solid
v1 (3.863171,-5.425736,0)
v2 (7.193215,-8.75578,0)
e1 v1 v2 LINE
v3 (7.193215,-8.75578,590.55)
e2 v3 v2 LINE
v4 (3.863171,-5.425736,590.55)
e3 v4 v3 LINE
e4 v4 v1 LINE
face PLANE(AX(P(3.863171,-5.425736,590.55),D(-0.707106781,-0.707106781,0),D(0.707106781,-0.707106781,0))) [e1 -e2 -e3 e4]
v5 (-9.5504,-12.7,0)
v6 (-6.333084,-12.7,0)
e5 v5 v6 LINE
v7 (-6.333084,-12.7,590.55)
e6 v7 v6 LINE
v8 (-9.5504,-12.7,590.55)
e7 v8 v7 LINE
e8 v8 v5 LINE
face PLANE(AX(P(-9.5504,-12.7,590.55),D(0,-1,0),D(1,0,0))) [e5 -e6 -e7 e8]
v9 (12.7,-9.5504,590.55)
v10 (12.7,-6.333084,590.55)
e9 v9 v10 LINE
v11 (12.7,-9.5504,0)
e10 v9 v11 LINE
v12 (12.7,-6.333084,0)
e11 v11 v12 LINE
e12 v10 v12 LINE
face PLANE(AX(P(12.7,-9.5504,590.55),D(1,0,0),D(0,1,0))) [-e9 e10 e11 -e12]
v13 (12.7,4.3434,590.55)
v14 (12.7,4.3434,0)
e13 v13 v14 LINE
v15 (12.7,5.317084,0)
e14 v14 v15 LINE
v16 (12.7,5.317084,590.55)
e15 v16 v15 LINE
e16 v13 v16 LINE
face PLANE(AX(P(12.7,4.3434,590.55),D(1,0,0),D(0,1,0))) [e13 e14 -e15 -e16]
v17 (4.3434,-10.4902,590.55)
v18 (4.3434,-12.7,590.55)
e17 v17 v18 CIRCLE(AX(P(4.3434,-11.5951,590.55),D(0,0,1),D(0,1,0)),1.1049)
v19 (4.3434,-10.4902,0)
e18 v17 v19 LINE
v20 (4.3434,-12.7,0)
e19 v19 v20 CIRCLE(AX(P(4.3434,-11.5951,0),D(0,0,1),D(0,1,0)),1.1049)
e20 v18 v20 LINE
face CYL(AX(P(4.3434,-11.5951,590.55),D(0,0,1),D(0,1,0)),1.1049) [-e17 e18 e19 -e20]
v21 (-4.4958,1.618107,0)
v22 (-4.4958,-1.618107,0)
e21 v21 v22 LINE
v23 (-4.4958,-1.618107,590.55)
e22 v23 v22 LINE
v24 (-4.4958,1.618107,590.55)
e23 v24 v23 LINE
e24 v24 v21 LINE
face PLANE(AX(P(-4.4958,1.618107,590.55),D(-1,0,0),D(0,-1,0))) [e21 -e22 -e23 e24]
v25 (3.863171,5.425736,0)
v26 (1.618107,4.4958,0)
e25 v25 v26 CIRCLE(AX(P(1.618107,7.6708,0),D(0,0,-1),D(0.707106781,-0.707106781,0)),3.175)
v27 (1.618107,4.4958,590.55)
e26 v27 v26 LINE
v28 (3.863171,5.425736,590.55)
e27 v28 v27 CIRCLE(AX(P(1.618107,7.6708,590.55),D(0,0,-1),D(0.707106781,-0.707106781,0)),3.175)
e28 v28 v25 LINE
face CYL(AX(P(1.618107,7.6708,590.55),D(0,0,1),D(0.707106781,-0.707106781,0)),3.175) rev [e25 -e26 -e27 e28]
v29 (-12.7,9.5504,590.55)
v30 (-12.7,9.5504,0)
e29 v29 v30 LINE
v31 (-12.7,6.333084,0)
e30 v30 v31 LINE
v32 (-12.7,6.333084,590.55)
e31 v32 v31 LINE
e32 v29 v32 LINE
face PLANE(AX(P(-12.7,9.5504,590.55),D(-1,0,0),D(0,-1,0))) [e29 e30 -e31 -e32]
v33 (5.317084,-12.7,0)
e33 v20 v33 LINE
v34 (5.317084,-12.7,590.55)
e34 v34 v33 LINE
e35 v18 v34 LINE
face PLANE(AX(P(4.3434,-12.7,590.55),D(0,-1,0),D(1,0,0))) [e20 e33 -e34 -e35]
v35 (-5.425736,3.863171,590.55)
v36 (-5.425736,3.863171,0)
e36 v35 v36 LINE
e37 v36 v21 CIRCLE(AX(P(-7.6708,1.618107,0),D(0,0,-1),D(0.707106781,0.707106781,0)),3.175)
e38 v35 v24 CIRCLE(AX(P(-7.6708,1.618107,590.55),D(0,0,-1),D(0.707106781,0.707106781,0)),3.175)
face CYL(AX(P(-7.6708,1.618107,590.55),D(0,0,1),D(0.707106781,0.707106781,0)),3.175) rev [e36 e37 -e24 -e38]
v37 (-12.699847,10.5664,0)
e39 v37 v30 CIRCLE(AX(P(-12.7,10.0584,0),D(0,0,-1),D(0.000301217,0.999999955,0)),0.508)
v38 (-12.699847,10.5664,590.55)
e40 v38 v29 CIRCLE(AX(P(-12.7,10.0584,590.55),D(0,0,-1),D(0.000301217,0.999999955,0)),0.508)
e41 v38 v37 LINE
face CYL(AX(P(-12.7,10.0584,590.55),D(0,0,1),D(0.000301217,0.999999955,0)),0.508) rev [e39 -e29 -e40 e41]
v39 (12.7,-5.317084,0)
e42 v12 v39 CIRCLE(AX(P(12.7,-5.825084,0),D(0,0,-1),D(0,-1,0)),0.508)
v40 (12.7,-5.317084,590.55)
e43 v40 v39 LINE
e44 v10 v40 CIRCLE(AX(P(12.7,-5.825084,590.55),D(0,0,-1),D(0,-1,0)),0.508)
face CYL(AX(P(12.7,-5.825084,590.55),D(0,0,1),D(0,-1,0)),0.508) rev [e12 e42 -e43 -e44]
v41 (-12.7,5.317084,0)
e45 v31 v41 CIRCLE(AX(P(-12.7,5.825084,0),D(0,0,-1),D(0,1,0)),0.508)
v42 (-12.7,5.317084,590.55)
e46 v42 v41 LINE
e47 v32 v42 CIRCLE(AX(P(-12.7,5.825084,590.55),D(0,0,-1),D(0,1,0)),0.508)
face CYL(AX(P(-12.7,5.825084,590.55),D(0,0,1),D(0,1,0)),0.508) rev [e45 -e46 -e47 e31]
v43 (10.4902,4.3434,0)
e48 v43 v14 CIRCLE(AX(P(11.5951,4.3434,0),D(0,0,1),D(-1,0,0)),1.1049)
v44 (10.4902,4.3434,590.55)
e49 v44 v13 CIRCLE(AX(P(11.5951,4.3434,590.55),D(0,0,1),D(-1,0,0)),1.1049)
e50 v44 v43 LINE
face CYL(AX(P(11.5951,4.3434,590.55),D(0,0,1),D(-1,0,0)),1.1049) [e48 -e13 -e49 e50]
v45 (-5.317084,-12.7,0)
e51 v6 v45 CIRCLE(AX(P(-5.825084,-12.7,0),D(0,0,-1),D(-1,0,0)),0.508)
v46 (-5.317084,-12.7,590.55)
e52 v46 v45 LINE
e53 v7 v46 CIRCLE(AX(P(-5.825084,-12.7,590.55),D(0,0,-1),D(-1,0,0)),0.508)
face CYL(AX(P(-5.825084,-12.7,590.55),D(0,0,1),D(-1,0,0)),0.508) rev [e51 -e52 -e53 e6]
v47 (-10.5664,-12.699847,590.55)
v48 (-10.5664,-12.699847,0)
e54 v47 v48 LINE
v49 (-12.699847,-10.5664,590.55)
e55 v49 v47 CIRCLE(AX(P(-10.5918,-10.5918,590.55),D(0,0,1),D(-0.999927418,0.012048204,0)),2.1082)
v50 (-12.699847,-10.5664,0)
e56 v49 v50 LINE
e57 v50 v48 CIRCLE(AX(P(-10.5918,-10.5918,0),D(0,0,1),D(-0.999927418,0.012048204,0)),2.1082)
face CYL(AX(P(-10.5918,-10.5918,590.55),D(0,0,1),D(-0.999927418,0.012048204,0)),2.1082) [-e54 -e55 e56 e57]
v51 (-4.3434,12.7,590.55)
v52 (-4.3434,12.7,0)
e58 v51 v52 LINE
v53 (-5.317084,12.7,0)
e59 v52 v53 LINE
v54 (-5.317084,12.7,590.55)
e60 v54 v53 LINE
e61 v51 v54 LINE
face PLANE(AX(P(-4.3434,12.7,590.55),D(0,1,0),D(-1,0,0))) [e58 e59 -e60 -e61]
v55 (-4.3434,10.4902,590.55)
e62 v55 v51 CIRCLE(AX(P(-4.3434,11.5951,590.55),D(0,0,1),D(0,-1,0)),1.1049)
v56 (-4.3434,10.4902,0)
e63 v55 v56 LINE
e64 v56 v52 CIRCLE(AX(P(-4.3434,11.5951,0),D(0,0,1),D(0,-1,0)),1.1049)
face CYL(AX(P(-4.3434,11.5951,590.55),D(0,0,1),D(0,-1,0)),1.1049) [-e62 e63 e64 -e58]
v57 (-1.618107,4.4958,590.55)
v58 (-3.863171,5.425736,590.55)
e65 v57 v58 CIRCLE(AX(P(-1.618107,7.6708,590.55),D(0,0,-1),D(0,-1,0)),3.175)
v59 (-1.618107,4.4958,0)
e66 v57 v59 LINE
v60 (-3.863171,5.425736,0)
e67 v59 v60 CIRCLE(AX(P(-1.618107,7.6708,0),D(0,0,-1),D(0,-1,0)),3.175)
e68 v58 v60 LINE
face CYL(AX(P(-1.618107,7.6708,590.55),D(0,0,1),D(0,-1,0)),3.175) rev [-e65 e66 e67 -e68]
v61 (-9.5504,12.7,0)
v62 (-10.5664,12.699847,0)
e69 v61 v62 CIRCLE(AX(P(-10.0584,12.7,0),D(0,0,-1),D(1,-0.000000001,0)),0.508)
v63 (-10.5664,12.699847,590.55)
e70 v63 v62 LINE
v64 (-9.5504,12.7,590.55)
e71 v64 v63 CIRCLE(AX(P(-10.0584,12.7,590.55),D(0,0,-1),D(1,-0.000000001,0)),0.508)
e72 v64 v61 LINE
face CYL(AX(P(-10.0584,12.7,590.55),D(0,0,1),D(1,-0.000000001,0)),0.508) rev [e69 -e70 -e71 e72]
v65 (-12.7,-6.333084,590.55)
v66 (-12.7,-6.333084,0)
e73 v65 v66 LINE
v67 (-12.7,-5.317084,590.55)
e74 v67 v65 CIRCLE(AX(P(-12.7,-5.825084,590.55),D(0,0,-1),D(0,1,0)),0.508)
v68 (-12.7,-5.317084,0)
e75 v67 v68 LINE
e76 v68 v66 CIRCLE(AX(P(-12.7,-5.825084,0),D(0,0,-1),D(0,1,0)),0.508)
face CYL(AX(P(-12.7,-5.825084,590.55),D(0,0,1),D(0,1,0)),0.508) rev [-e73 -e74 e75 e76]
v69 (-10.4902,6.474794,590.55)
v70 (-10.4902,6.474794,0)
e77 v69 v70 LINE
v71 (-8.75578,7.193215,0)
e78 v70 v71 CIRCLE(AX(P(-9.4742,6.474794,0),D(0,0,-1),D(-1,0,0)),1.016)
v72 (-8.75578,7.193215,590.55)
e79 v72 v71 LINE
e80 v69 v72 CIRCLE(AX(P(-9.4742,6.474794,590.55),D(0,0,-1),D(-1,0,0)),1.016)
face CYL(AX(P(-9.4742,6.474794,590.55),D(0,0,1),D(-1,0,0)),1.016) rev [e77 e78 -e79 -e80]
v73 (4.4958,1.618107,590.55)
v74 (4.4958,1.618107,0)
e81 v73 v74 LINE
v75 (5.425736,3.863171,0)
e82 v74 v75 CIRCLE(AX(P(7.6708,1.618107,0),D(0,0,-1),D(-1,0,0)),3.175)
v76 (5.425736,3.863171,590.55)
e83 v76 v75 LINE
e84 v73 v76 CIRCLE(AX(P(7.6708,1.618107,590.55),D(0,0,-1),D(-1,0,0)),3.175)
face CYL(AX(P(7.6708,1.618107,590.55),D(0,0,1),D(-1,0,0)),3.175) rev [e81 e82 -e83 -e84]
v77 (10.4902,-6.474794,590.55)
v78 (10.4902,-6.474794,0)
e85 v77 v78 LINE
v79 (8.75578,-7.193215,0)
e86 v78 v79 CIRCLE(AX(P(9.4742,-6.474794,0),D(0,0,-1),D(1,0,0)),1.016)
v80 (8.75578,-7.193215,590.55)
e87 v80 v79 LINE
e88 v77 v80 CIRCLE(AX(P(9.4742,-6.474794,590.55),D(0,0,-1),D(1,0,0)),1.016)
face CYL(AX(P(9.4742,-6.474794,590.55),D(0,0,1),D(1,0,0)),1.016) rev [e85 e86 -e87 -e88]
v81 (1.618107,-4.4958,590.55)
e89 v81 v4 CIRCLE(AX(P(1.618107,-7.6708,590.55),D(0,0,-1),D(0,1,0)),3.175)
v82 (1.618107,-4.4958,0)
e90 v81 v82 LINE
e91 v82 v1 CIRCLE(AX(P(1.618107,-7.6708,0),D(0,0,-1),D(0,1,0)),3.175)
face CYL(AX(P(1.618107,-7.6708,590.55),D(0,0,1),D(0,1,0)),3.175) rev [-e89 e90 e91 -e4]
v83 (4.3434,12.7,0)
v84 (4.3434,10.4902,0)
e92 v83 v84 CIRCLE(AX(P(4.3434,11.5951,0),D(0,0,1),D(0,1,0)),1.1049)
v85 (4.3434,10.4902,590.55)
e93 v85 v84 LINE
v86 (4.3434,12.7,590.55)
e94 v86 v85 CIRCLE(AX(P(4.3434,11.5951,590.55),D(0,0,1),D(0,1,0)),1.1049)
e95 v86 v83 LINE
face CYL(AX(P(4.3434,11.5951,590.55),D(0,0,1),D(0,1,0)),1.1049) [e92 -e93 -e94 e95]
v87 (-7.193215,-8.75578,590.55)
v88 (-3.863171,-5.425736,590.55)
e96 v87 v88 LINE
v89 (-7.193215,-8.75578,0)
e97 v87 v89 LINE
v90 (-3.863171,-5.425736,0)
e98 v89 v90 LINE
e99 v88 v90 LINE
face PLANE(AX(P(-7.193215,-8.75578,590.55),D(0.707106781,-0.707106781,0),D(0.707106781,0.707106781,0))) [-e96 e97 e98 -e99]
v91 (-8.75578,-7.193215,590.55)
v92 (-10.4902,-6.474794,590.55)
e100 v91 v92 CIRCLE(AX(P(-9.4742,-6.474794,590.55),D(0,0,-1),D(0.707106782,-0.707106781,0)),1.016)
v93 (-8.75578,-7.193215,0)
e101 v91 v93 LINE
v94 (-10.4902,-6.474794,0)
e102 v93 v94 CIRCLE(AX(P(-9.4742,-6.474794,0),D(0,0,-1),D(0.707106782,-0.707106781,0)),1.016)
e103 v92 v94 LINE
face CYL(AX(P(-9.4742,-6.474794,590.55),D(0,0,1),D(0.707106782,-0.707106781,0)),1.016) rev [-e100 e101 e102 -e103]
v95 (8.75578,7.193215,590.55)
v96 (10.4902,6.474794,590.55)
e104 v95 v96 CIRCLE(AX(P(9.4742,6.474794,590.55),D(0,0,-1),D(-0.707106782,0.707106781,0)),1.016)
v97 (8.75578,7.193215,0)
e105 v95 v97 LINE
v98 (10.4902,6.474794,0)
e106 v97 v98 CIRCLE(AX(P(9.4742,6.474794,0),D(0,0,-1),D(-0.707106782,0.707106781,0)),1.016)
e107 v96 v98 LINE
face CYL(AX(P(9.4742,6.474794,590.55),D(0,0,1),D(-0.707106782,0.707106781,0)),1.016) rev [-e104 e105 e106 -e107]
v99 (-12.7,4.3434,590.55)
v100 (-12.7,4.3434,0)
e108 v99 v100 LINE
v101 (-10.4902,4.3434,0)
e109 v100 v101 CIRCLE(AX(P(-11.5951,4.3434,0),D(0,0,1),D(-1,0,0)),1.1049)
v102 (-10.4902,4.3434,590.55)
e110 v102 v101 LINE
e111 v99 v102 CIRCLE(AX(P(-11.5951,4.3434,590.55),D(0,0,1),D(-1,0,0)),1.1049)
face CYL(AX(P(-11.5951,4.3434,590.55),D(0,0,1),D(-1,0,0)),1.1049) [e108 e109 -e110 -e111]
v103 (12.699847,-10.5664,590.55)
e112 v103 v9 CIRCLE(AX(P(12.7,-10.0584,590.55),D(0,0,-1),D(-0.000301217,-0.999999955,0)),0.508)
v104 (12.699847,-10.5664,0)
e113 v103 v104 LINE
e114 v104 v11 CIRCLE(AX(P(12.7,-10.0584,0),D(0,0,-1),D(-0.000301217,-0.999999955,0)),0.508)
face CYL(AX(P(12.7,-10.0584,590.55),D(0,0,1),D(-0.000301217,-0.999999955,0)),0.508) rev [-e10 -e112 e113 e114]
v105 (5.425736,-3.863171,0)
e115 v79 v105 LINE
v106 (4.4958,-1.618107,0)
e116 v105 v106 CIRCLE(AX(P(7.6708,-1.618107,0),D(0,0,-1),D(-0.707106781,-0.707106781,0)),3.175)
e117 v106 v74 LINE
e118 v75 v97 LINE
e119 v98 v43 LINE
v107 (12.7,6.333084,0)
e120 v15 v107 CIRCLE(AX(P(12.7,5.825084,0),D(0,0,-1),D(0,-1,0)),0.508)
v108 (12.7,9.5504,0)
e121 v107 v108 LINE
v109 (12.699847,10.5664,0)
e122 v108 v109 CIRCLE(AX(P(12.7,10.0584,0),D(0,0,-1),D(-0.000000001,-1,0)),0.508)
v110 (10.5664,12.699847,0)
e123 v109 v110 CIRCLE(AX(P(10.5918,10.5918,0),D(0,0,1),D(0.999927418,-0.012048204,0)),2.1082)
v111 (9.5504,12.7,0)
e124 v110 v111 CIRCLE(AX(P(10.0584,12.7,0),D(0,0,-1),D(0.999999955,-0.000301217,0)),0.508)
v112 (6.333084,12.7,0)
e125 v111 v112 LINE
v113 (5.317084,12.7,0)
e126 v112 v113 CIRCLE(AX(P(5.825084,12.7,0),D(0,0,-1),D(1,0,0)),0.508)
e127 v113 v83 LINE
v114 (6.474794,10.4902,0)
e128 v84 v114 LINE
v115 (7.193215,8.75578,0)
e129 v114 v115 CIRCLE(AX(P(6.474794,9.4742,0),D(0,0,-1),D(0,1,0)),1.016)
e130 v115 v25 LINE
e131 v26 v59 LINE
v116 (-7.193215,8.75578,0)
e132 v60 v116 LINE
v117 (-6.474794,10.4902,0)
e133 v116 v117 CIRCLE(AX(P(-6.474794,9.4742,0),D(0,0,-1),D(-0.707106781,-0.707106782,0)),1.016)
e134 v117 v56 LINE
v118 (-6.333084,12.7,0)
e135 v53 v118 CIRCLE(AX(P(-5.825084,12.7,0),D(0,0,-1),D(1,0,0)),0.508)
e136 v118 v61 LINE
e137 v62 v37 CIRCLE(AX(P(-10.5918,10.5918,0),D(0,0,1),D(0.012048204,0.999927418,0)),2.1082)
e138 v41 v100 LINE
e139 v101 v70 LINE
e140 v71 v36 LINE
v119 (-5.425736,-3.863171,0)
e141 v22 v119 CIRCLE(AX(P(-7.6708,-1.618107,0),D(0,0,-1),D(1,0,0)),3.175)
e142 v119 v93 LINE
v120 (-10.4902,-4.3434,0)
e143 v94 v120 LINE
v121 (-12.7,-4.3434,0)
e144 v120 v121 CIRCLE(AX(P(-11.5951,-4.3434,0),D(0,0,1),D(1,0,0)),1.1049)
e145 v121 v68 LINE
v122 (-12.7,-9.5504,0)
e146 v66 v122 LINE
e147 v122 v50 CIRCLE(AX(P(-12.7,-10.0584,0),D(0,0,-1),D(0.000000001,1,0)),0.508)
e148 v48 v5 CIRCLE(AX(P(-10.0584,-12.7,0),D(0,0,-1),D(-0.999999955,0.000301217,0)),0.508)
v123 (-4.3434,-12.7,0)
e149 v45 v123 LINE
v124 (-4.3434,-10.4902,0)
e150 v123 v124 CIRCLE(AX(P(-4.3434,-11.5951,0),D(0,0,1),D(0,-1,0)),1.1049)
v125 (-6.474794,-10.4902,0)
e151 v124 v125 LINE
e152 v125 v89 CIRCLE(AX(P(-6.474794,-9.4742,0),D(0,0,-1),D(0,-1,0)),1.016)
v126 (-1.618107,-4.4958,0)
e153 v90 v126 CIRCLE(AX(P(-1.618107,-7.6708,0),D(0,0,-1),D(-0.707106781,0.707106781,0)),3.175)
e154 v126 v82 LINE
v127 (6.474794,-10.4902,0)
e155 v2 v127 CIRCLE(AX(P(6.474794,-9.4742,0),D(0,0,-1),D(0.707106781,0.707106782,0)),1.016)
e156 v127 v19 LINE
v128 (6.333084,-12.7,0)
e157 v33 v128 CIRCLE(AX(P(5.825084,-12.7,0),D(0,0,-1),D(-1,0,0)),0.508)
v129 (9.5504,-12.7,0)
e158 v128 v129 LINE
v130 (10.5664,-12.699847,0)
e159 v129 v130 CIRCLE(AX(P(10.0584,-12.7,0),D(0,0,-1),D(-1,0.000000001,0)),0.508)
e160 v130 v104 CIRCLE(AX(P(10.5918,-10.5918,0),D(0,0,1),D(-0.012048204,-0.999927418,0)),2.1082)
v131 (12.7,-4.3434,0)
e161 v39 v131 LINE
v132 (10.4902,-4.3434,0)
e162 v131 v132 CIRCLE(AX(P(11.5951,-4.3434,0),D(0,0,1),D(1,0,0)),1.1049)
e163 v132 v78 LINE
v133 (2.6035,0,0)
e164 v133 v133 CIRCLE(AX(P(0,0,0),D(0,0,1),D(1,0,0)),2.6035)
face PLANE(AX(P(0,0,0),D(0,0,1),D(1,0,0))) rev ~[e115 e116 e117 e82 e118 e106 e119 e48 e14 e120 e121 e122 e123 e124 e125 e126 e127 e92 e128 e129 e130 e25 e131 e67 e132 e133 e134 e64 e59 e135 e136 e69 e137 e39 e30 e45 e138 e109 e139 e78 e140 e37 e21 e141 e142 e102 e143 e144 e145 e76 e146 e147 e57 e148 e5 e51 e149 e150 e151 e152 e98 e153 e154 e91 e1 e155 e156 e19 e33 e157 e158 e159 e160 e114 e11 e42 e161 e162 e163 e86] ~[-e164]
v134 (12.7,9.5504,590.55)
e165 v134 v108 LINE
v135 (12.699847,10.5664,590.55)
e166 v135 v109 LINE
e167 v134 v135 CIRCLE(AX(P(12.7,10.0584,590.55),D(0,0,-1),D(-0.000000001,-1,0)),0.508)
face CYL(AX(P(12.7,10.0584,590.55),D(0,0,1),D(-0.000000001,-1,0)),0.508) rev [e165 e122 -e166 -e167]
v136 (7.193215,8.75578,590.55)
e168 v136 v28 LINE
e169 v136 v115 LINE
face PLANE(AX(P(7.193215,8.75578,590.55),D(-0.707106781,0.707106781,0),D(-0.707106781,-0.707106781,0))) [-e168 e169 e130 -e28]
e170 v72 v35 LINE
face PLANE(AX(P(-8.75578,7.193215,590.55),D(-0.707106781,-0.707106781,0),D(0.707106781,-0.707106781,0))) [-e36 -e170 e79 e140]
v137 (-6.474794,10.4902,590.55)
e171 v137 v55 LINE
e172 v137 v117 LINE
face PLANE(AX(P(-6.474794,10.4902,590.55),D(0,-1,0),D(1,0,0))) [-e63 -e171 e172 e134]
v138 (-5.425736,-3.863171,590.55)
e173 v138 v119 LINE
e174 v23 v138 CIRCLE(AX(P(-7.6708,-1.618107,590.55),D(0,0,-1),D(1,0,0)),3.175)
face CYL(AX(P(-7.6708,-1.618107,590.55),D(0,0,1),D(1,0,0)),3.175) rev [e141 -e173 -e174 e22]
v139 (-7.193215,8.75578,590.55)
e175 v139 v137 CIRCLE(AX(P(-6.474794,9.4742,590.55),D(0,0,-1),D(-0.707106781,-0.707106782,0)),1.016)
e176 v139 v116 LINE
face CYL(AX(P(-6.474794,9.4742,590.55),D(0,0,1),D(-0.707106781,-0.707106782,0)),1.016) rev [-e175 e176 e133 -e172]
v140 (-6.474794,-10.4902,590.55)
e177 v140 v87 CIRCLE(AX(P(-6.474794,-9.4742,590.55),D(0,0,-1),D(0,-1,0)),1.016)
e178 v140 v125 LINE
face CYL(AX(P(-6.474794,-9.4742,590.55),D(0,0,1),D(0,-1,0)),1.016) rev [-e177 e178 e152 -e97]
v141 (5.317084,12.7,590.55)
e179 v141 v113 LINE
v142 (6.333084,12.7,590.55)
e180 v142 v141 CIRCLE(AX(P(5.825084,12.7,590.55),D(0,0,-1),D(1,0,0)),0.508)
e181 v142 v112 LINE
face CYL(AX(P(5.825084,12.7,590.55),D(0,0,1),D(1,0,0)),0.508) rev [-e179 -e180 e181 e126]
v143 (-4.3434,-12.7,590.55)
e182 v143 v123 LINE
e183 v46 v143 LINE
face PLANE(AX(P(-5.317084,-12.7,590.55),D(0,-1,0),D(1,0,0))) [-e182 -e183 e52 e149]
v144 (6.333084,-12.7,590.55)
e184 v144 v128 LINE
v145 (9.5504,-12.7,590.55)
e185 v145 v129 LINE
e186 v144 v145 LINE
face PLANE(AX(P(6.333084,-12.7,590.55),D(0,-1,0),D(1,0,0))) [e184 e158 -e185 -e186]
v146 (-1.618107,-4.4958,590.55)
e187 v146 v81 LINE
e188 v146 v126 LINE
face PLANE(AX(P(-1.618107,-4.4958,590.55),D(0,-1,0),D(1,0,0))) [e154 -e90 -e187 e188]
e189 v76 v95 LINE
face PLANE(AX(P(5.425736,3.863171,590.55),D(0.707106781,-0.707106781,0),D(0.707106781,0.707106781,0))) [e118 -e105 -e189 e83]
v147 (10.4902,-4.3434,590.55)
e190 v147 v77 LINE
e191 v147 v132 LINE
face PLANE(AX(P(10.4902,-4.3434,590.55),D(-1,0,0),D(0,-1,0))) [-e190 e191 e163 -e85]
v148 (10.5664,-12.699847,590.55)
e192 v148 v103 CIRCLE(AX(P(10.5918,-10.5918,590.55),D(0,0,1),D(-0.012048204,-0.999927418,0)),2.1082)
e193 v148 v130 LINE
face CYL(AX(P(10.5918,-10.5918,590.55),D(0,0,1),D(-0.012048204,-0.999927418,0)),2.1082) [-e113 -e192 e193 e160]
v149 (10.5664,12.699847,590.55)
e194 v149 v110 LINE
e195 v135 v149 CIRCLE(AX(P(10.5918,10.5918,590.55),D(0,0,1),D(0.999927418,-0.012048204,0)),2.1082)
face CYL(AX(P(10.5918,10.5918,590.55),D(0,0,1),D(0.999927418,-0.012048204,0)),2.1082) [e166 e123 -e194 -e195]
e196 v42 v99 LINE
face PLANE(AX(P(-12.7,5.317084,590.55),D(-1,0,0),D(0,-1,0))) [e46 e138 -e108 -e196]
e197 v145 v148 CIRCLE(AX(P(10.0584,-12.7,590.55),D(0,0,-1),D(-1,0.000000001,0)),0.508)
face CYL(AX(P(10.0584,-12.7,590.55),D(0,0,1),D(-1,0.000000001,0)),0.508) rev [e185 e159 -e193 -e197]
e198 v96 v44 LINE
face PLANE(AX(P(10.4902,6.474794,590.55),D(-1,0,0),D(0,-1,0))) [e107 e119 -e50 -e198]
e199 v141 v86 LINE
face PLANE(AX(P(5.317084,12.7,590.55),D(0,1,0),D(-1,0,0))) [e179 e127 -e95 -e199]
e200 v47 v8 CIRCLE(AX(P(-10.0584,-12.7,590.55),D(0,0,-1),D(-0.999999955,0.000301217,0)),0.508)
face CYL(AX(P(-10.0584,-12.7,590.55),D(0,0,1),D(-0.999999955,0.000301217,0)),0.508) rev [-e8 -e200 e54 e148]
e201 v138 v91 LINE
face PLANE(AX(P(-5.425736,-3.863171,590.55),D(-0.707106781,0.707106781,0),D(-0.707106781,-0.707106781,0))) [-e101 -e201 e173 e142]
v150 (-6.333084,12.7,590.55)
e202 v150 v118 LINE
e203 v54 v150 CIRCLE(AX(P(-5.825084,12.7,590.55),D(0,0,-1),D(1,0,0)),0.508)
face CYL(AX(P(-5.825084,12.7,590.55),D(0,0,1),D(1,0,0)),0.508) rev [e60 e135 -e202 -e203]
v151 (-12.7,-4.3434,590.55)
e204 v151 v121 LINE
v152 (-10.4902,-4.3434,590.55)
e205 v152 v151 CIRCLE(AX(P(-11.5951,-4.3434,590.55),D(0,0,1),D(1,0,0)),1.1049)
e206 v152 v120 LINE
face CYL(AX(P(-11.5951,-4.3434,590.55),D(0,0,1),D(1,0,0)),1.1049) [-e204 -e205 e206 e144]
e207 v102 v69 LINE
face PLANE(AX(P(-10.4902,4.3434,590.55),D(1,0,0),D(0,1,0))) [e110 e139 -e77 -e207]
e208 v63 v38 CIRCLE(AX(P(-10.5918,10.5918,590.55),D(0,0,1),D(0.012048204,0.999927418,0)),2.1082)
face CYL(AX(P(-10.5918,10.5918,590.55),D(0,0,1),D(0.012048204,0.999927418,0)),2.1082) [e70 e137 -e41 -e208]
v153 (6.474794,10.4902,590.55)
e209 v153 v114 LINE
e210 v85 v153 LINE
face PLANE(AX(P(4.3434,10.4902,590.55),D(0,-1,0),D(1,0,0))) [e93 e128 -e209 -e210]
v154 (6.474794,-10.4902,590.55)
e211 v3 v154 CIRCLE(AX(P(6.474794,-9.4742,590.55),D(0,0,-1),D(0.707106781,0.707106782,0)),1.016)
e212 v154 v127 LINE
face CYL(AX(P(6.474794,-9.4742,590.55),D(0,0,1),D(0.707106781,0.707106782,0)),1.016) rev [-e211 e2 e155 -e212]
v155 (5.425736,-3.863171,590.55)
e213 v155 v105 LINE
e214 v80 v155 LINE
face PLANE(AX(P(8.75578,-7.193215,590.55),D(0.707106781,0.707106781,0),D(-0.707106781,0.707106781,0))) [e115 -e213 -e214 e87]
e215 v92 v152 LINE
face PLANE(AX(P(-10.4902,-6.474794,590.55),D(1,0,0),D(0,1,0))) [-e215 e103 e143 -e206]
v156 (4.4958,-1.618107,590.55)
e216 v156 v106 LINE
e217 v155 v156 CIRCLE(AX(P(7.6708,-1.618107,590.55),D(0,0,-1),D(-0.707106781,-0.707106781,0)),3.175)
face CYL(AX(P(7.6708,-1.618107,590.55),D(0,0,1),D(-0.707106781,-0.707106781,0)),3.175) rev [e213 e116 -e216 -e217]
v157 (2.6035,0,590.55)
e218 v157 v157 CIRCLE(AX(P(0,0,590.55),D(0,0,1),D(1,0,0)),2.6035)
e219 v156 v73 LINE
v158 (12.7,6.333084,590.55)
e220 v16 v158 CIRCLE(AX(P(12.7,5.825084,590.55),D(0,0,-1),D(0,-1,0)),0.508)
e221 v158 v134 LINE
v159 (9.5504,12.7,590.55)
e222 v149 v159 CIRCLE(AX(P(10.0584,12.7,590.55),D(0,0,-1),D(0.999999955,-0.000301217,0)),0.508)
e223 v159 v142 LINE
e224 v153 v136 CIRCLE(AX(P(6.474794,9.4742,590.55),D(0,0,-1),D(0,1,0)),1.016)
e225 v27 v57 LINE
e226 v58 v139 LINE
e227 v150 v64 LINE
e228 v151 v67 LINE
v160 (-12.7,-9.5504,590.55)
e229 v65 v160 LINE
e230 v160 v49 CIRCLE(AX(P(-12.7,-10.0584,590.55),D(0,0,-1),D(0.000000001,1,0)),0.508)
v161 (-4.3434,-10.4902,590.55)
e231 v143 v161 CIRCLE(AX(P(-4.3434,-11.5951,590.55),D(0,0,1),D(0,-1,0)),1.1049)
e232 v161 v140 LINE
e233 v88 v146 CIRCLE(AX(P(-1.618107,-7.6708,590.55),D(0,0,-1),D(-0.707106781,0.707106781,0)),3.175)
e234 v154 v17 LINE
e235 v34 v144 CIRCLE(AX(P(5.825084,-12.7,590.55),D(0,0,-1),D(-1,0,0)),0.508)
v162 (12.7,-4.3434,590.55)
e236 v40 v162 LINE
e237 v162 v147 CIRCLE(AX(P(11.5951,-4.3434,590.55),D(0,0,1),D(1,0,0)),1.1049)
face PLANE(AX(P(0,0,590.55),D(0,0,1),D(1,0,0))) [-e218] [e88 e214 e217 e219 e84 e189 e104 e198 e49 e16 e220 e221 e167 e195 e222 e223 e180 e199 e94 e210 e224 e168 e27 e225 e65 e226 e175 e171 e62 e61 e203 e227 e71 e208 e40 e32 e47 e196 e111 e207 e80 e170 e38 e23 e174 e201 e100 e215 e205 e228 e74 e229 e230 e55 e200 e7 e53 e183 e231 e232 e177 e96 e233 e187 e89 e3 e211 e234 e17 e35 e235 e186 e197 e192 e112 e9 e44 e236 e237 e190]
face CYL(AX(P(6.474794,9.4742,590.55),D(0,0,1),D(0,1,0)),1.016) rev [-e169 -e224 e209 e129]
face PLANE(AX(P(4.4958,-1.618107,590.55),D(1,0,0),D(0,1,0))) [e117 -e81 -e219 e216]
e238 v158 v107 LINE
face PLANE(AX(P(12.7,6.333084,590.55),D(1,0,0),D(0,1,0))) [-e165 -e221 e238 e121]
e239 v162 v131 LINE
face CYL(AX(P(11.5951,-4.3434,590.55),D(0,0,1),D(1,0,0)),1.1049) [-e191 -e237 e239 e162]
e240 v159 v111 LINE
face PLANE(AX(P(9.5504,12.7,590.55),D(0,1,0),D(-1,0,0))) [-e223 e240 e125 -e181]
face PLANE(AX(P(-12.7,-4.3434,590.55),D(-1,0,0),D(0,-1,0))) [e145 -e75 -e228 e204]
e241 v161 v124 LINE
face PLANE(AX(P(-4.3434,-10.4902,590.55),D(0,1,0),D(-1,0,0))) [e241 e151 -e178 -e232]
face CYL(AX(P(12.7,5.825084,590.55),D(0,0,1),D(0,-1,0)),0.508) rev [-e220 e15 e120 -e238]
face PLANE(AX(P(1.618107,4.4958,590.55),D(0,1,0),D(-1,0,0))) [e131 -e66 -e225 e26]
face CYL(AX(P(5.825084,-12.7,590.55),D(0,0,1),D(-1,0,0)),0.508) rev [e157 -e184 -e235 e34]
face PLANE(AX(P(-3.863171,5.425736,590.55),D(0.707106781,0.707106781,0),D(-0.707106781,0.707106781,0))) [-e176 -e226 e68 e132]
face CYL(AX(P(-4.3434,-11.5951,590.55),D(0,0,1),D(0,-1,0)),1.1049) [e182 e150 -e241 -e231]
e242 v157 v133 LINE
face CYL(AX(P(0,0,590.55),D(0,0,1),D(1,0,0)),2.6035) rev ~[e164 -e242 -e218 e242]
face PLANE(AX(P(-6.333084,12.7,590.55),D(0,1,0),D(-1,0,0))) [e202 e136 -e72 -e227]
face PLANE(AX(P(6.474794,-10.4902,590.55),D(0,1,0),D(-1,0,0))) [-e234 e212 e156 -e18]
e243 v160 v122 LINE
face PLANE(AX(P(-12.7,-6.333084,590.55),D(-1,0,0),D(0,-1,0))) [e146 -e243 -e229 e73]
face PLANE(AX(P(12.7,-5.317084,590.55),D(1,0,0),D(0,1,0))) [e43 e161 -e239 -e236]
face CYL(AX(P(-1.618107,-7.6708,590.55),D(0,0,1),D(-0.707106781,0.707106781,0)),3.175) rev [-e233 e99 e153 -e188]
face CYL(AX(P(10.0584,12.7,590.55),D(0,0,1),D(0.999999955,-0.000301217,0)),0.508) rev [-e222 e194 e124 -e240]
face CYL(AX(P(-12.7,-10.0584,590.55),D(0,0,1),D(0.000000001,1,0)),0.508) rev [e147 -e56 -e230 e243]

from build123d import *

# Parameters (mm, degrees)
SKETCH1_R           = 2.6035
BOSS_EXTRUDE1_DEPTH = 590.55


with BuildPart() as part:
    # Sketch1 → Boss-Extrude1 (new body)
    with BuildSketch(Plane.XY.offset(590.55)):
        with BuildLine():
            Line((-12.7, -6.3330836), (-12.7, -9.5504))
            ThreePointArc((-12.7, -9.5504), (-12.192000006, -10.058323491), (-12.699846982, -10.566399977))
            ThreePointArc((-12.699846982, -10.566399977), (-12.082522516, -12.082522516), (-10.566399977, -12.699846982))
            ThreePointArc((-10.566399977, -12.699846982), (-10.058323491, -12.192000006), (-9.5504, -12.7))
            Line((-9.5504, -12.7), (-6.3330836, -12.7))
            ThreePointArc((-6.3330836, -12.7), (-5.8250836, -12.192), (-5.3170836, -12.7))
            Line((-5.3170836, -12.7), (-4.343399971, -12.7))
            ThreePointArc((-4.343399971, -12.7), (-3.238499971, -11.5951), (-4.343399971, -10.4902))
            Line((-4.343399971, -10.4902), (-6.474794456, -10.4902))
            ThreePointArc((-6.474794456, -10.4902), (-7.413456061, -9.863006367), (-7.193214945, -8.75577951))
            Line((-7.193214945, -8.75577951), (-3.863171405, -5.42573597))
            ThreePointArc((-3.863171405, -5.42573597), (-2.833127272, -4.737482484), (-1.618107374, -4.4958))
            Line((-1.618107374, -4.4958), (1.618107374, -4.4958))
            ThreePointArc((1.618107374, -4.4958), (2.833127272, -4.737482484), (3.863171405, -5.42573597))
            Line((3.863171405, -5.42573597), (7.193214945, -8.75577951))
            ThreePointArc((7.193214945, -8.75577951), (7.413456061, -9.863006367), (6.474794456, -10.4902))
            Line((6.474794456, -10.4902), (4.3434, -10.4902))
            ThreePointArc((4.3434, -10.4902), (3.2385, -11.5951), (4.3434, -12.7))
            Line((4.3434, -12.7), (5.3170836, -12.7))
            ThreePointArc((5.3170836, -12.7), (5.8250836, -12.192), (6.3330836, -12.7))
            Line((6.3330836, -12.7), (9.5504, -12.7))
            ThreePointArc((9.5504, -12.7), (10.058323491, -12.192000006), (10.566399977, -12.699846982))
            ThreePointArc((10.566399977, -12.699846982), (12.082522516, -12.082522516), (12.699846982, -10.566399977))
            ThreePointArc((12.699846982, -10.566399977), (12.192000006, -10.058323491), (12.7, -9.5504))
            Line((12.7, -9.5504), (12.7, -6.3330836))
            ThreePointArc((12.7, -6.3330836), (12.192, -5.8250836), (12.7, -5.3170836))
            Line((12.7, -5.3170836), (12.7, -4.343399971))
            ThreePointArc((12.7, -4.343399971), (11.5951, -3.238499971), (10.4902, -4.343399971))
            Line((10.4902, -4.343399971), (10.4902, -6.474794456))
            ThreePointArc((10.4902, -6.474794456), (9.863006367, -7.413456061), (8.75577951, -7.193214945))
            Line((8.75577951, -7.193214945), (5.42573597, -3.863171405))
            ThreePointArc((5.42573597, -3.863171405), (4.737482484, -2.833127272), (4.4958, -1.618107374))
            Line((4.4958, -1.618107374), (4.4958, 1.618107374))
            ThreePointArc((4.4958, 1.618107374), (4.737482484, 2.833127272), (5.42573597, 3.863171405))
            Line((5.42573597, 3.863171405), (8.75577951, 7.193214945))
            ThreePointArc((8.75577951, 7.193214945), (9.863006367, 7.413456061), (10.4902, 6.474794456))
            Line((10.4902, 6.474794456), (10.4902, 4.3434))
            ThreePointArc((10.4902, 4.3434), (11.5951, 3.2385), (12.7, 4.3434))
            Line((12.7, 4.3434), (12.7, 5.3170836))
            ThreePointArc((12.7, 5.3170836), (12.192, 5.8250836), (12.7, 6.3330836))
            Line((12.7, 6.3330836), (12.7, 9.5504))
            ThreePointArc((12.7, 9.5504), (12.192000006, 10.058323491), (12.699846982, 10.566399977))
            ThreePointArc((12.699846982, 10.566399977), (12.082522516, 12.082522516), (10.566399977, 12.699846982))
            ThreePointArc((10.566399977, 12.699846982), (10.058323491, 12.192000006), (9.5504, 12.7))
            Line((9.5504, 12.7), (6.3330836, 12.7))
            ThreePointArc((6.3330836, 12.7), (5.8250836, 12.192), (5.3170836, 12.7))
            Line((5.3170836, 12.7), (4.343399971, 12.7))
            ThreePointArc((4.343399971, 12.7), (3.238499971, 11.5951), (4.343399971, 10.4902))
            Line((4.343399971, 10.4902), (6.474794456, 10.4902))
            ThreePointArc((6.474794456, 10.4902), (7.413456061, 9.863006367), (7.193214945, 8.75577951))
            Line((7.193214945, 8.75577951), (3.863171405, 5.42573597))
            ThreePointArc((3.863171405, 5.42573597), (2.833127272, 4.737482484), (1.618107374, 4.4958))
            Line((1.618107374, 4.4958), (-1.618107374, 4.4958))
            ThreePointArc((-1.618107374, 4.4958), (-2.833127272, 4.737482484), (-3.863171405, 5.42573597))
            Line((-3.863171405, 5.42573597), (-7.193214945, 8.75577951))
            ThreePointArc((-7.193214945, 8.75577951), (-7.413456061, 9.863006367), (-6.474794456, 10.4902))
            Line((-6.474794456, 10.4902), (-4.3434, 10.4902))
            ThreePointArc((-4.3434, 10.4902), (-3.2385, 11.5951), (-4.3434, 12.7))
            Line((-4.3434, 12.7), (-5.3170836, 12.7))
            ThreePointArc((-5.3170836, 12.7), (-5.8250836, 12.192), (-6.3330836, 12.7))
            Line((-6.3330836, 12.7), (-9.5504, 12.7))
            ThreePointArc((-9.5504, 12.7), (-10.058323491, 12.192000006), (-10.566399977, 12.699846982))
            ThreePointArc((-10.566399977, 12.699846982), (-12.082522516, 12.082522516), (-12.699846982, 10.566399977))
            ThreePointArc((-12.699846982, 10.566399977), (-12.192000006, 10.058323491), (-12.7, 9.5504))
            Line((-12.7, 9.5504), (-12.7, 6.3330836))
            ThreePointArc((-12.7, 6.3330836), (-12.192, 5.8250836), (-12.7, 5.3170836))
            Line((-12.7, 5.3170836), (-12.7, 4.343399971))
            ThreePointArc((-12.7, 4.343399971), (-11.5951, 3.238499971), (-10.4902, 4.343399971))
            Line((-10.4902, 4.343399971), (-10.4902, 6.474794456))
            ThreePointArc((-10.4902, 6.474794456), (-9.863006367, 7.413456061), (-8.75577951, 7.193214945))
            Line((-8.75577951, 7.193214945), (-5.42573597, 3.863171405))
            ThreePointArc((-5.42573597, 3.863171405), (-4.737482484, 2.833127272), (-4.4958, 1.618107374))
            Line((-4.4958, 1.618107374), (-4.4958, -1.618107374))
            ThreePointArc((-4.4958, -1.618107374), (-4.737482484, -2.833127272), (-5.42573597, -3.863171405))
            Line((-5.42573597, -3.863171405), (-8.75577951, -7.193214945))
            ThreePointArc((-8.75577951, -7.193214945), (-9.863006367, -7.413456061), (-10.4902, -6.474794456))
            Line((-10.4902, -6.474794456), (-10.4902, -4.3434))
            ThreePointArc((-10.4902, -4.3434), (-11.5951, -3.2385), (-12.7, -4.3434))
            Line((-12.7, -4.3434), (-12.7, -5.3170836))
            ThreePointArc((-12.7, -5.3170836), (-12.192, -5.8250836), (-12.7, -6.3330836))
        make_face()
        Circle(SKETCH1_R, mode=Mode.SUBTRACT)
    extrude(amount=-BOSS_EXTRUDE1_DEPTH)


solid = part.part
